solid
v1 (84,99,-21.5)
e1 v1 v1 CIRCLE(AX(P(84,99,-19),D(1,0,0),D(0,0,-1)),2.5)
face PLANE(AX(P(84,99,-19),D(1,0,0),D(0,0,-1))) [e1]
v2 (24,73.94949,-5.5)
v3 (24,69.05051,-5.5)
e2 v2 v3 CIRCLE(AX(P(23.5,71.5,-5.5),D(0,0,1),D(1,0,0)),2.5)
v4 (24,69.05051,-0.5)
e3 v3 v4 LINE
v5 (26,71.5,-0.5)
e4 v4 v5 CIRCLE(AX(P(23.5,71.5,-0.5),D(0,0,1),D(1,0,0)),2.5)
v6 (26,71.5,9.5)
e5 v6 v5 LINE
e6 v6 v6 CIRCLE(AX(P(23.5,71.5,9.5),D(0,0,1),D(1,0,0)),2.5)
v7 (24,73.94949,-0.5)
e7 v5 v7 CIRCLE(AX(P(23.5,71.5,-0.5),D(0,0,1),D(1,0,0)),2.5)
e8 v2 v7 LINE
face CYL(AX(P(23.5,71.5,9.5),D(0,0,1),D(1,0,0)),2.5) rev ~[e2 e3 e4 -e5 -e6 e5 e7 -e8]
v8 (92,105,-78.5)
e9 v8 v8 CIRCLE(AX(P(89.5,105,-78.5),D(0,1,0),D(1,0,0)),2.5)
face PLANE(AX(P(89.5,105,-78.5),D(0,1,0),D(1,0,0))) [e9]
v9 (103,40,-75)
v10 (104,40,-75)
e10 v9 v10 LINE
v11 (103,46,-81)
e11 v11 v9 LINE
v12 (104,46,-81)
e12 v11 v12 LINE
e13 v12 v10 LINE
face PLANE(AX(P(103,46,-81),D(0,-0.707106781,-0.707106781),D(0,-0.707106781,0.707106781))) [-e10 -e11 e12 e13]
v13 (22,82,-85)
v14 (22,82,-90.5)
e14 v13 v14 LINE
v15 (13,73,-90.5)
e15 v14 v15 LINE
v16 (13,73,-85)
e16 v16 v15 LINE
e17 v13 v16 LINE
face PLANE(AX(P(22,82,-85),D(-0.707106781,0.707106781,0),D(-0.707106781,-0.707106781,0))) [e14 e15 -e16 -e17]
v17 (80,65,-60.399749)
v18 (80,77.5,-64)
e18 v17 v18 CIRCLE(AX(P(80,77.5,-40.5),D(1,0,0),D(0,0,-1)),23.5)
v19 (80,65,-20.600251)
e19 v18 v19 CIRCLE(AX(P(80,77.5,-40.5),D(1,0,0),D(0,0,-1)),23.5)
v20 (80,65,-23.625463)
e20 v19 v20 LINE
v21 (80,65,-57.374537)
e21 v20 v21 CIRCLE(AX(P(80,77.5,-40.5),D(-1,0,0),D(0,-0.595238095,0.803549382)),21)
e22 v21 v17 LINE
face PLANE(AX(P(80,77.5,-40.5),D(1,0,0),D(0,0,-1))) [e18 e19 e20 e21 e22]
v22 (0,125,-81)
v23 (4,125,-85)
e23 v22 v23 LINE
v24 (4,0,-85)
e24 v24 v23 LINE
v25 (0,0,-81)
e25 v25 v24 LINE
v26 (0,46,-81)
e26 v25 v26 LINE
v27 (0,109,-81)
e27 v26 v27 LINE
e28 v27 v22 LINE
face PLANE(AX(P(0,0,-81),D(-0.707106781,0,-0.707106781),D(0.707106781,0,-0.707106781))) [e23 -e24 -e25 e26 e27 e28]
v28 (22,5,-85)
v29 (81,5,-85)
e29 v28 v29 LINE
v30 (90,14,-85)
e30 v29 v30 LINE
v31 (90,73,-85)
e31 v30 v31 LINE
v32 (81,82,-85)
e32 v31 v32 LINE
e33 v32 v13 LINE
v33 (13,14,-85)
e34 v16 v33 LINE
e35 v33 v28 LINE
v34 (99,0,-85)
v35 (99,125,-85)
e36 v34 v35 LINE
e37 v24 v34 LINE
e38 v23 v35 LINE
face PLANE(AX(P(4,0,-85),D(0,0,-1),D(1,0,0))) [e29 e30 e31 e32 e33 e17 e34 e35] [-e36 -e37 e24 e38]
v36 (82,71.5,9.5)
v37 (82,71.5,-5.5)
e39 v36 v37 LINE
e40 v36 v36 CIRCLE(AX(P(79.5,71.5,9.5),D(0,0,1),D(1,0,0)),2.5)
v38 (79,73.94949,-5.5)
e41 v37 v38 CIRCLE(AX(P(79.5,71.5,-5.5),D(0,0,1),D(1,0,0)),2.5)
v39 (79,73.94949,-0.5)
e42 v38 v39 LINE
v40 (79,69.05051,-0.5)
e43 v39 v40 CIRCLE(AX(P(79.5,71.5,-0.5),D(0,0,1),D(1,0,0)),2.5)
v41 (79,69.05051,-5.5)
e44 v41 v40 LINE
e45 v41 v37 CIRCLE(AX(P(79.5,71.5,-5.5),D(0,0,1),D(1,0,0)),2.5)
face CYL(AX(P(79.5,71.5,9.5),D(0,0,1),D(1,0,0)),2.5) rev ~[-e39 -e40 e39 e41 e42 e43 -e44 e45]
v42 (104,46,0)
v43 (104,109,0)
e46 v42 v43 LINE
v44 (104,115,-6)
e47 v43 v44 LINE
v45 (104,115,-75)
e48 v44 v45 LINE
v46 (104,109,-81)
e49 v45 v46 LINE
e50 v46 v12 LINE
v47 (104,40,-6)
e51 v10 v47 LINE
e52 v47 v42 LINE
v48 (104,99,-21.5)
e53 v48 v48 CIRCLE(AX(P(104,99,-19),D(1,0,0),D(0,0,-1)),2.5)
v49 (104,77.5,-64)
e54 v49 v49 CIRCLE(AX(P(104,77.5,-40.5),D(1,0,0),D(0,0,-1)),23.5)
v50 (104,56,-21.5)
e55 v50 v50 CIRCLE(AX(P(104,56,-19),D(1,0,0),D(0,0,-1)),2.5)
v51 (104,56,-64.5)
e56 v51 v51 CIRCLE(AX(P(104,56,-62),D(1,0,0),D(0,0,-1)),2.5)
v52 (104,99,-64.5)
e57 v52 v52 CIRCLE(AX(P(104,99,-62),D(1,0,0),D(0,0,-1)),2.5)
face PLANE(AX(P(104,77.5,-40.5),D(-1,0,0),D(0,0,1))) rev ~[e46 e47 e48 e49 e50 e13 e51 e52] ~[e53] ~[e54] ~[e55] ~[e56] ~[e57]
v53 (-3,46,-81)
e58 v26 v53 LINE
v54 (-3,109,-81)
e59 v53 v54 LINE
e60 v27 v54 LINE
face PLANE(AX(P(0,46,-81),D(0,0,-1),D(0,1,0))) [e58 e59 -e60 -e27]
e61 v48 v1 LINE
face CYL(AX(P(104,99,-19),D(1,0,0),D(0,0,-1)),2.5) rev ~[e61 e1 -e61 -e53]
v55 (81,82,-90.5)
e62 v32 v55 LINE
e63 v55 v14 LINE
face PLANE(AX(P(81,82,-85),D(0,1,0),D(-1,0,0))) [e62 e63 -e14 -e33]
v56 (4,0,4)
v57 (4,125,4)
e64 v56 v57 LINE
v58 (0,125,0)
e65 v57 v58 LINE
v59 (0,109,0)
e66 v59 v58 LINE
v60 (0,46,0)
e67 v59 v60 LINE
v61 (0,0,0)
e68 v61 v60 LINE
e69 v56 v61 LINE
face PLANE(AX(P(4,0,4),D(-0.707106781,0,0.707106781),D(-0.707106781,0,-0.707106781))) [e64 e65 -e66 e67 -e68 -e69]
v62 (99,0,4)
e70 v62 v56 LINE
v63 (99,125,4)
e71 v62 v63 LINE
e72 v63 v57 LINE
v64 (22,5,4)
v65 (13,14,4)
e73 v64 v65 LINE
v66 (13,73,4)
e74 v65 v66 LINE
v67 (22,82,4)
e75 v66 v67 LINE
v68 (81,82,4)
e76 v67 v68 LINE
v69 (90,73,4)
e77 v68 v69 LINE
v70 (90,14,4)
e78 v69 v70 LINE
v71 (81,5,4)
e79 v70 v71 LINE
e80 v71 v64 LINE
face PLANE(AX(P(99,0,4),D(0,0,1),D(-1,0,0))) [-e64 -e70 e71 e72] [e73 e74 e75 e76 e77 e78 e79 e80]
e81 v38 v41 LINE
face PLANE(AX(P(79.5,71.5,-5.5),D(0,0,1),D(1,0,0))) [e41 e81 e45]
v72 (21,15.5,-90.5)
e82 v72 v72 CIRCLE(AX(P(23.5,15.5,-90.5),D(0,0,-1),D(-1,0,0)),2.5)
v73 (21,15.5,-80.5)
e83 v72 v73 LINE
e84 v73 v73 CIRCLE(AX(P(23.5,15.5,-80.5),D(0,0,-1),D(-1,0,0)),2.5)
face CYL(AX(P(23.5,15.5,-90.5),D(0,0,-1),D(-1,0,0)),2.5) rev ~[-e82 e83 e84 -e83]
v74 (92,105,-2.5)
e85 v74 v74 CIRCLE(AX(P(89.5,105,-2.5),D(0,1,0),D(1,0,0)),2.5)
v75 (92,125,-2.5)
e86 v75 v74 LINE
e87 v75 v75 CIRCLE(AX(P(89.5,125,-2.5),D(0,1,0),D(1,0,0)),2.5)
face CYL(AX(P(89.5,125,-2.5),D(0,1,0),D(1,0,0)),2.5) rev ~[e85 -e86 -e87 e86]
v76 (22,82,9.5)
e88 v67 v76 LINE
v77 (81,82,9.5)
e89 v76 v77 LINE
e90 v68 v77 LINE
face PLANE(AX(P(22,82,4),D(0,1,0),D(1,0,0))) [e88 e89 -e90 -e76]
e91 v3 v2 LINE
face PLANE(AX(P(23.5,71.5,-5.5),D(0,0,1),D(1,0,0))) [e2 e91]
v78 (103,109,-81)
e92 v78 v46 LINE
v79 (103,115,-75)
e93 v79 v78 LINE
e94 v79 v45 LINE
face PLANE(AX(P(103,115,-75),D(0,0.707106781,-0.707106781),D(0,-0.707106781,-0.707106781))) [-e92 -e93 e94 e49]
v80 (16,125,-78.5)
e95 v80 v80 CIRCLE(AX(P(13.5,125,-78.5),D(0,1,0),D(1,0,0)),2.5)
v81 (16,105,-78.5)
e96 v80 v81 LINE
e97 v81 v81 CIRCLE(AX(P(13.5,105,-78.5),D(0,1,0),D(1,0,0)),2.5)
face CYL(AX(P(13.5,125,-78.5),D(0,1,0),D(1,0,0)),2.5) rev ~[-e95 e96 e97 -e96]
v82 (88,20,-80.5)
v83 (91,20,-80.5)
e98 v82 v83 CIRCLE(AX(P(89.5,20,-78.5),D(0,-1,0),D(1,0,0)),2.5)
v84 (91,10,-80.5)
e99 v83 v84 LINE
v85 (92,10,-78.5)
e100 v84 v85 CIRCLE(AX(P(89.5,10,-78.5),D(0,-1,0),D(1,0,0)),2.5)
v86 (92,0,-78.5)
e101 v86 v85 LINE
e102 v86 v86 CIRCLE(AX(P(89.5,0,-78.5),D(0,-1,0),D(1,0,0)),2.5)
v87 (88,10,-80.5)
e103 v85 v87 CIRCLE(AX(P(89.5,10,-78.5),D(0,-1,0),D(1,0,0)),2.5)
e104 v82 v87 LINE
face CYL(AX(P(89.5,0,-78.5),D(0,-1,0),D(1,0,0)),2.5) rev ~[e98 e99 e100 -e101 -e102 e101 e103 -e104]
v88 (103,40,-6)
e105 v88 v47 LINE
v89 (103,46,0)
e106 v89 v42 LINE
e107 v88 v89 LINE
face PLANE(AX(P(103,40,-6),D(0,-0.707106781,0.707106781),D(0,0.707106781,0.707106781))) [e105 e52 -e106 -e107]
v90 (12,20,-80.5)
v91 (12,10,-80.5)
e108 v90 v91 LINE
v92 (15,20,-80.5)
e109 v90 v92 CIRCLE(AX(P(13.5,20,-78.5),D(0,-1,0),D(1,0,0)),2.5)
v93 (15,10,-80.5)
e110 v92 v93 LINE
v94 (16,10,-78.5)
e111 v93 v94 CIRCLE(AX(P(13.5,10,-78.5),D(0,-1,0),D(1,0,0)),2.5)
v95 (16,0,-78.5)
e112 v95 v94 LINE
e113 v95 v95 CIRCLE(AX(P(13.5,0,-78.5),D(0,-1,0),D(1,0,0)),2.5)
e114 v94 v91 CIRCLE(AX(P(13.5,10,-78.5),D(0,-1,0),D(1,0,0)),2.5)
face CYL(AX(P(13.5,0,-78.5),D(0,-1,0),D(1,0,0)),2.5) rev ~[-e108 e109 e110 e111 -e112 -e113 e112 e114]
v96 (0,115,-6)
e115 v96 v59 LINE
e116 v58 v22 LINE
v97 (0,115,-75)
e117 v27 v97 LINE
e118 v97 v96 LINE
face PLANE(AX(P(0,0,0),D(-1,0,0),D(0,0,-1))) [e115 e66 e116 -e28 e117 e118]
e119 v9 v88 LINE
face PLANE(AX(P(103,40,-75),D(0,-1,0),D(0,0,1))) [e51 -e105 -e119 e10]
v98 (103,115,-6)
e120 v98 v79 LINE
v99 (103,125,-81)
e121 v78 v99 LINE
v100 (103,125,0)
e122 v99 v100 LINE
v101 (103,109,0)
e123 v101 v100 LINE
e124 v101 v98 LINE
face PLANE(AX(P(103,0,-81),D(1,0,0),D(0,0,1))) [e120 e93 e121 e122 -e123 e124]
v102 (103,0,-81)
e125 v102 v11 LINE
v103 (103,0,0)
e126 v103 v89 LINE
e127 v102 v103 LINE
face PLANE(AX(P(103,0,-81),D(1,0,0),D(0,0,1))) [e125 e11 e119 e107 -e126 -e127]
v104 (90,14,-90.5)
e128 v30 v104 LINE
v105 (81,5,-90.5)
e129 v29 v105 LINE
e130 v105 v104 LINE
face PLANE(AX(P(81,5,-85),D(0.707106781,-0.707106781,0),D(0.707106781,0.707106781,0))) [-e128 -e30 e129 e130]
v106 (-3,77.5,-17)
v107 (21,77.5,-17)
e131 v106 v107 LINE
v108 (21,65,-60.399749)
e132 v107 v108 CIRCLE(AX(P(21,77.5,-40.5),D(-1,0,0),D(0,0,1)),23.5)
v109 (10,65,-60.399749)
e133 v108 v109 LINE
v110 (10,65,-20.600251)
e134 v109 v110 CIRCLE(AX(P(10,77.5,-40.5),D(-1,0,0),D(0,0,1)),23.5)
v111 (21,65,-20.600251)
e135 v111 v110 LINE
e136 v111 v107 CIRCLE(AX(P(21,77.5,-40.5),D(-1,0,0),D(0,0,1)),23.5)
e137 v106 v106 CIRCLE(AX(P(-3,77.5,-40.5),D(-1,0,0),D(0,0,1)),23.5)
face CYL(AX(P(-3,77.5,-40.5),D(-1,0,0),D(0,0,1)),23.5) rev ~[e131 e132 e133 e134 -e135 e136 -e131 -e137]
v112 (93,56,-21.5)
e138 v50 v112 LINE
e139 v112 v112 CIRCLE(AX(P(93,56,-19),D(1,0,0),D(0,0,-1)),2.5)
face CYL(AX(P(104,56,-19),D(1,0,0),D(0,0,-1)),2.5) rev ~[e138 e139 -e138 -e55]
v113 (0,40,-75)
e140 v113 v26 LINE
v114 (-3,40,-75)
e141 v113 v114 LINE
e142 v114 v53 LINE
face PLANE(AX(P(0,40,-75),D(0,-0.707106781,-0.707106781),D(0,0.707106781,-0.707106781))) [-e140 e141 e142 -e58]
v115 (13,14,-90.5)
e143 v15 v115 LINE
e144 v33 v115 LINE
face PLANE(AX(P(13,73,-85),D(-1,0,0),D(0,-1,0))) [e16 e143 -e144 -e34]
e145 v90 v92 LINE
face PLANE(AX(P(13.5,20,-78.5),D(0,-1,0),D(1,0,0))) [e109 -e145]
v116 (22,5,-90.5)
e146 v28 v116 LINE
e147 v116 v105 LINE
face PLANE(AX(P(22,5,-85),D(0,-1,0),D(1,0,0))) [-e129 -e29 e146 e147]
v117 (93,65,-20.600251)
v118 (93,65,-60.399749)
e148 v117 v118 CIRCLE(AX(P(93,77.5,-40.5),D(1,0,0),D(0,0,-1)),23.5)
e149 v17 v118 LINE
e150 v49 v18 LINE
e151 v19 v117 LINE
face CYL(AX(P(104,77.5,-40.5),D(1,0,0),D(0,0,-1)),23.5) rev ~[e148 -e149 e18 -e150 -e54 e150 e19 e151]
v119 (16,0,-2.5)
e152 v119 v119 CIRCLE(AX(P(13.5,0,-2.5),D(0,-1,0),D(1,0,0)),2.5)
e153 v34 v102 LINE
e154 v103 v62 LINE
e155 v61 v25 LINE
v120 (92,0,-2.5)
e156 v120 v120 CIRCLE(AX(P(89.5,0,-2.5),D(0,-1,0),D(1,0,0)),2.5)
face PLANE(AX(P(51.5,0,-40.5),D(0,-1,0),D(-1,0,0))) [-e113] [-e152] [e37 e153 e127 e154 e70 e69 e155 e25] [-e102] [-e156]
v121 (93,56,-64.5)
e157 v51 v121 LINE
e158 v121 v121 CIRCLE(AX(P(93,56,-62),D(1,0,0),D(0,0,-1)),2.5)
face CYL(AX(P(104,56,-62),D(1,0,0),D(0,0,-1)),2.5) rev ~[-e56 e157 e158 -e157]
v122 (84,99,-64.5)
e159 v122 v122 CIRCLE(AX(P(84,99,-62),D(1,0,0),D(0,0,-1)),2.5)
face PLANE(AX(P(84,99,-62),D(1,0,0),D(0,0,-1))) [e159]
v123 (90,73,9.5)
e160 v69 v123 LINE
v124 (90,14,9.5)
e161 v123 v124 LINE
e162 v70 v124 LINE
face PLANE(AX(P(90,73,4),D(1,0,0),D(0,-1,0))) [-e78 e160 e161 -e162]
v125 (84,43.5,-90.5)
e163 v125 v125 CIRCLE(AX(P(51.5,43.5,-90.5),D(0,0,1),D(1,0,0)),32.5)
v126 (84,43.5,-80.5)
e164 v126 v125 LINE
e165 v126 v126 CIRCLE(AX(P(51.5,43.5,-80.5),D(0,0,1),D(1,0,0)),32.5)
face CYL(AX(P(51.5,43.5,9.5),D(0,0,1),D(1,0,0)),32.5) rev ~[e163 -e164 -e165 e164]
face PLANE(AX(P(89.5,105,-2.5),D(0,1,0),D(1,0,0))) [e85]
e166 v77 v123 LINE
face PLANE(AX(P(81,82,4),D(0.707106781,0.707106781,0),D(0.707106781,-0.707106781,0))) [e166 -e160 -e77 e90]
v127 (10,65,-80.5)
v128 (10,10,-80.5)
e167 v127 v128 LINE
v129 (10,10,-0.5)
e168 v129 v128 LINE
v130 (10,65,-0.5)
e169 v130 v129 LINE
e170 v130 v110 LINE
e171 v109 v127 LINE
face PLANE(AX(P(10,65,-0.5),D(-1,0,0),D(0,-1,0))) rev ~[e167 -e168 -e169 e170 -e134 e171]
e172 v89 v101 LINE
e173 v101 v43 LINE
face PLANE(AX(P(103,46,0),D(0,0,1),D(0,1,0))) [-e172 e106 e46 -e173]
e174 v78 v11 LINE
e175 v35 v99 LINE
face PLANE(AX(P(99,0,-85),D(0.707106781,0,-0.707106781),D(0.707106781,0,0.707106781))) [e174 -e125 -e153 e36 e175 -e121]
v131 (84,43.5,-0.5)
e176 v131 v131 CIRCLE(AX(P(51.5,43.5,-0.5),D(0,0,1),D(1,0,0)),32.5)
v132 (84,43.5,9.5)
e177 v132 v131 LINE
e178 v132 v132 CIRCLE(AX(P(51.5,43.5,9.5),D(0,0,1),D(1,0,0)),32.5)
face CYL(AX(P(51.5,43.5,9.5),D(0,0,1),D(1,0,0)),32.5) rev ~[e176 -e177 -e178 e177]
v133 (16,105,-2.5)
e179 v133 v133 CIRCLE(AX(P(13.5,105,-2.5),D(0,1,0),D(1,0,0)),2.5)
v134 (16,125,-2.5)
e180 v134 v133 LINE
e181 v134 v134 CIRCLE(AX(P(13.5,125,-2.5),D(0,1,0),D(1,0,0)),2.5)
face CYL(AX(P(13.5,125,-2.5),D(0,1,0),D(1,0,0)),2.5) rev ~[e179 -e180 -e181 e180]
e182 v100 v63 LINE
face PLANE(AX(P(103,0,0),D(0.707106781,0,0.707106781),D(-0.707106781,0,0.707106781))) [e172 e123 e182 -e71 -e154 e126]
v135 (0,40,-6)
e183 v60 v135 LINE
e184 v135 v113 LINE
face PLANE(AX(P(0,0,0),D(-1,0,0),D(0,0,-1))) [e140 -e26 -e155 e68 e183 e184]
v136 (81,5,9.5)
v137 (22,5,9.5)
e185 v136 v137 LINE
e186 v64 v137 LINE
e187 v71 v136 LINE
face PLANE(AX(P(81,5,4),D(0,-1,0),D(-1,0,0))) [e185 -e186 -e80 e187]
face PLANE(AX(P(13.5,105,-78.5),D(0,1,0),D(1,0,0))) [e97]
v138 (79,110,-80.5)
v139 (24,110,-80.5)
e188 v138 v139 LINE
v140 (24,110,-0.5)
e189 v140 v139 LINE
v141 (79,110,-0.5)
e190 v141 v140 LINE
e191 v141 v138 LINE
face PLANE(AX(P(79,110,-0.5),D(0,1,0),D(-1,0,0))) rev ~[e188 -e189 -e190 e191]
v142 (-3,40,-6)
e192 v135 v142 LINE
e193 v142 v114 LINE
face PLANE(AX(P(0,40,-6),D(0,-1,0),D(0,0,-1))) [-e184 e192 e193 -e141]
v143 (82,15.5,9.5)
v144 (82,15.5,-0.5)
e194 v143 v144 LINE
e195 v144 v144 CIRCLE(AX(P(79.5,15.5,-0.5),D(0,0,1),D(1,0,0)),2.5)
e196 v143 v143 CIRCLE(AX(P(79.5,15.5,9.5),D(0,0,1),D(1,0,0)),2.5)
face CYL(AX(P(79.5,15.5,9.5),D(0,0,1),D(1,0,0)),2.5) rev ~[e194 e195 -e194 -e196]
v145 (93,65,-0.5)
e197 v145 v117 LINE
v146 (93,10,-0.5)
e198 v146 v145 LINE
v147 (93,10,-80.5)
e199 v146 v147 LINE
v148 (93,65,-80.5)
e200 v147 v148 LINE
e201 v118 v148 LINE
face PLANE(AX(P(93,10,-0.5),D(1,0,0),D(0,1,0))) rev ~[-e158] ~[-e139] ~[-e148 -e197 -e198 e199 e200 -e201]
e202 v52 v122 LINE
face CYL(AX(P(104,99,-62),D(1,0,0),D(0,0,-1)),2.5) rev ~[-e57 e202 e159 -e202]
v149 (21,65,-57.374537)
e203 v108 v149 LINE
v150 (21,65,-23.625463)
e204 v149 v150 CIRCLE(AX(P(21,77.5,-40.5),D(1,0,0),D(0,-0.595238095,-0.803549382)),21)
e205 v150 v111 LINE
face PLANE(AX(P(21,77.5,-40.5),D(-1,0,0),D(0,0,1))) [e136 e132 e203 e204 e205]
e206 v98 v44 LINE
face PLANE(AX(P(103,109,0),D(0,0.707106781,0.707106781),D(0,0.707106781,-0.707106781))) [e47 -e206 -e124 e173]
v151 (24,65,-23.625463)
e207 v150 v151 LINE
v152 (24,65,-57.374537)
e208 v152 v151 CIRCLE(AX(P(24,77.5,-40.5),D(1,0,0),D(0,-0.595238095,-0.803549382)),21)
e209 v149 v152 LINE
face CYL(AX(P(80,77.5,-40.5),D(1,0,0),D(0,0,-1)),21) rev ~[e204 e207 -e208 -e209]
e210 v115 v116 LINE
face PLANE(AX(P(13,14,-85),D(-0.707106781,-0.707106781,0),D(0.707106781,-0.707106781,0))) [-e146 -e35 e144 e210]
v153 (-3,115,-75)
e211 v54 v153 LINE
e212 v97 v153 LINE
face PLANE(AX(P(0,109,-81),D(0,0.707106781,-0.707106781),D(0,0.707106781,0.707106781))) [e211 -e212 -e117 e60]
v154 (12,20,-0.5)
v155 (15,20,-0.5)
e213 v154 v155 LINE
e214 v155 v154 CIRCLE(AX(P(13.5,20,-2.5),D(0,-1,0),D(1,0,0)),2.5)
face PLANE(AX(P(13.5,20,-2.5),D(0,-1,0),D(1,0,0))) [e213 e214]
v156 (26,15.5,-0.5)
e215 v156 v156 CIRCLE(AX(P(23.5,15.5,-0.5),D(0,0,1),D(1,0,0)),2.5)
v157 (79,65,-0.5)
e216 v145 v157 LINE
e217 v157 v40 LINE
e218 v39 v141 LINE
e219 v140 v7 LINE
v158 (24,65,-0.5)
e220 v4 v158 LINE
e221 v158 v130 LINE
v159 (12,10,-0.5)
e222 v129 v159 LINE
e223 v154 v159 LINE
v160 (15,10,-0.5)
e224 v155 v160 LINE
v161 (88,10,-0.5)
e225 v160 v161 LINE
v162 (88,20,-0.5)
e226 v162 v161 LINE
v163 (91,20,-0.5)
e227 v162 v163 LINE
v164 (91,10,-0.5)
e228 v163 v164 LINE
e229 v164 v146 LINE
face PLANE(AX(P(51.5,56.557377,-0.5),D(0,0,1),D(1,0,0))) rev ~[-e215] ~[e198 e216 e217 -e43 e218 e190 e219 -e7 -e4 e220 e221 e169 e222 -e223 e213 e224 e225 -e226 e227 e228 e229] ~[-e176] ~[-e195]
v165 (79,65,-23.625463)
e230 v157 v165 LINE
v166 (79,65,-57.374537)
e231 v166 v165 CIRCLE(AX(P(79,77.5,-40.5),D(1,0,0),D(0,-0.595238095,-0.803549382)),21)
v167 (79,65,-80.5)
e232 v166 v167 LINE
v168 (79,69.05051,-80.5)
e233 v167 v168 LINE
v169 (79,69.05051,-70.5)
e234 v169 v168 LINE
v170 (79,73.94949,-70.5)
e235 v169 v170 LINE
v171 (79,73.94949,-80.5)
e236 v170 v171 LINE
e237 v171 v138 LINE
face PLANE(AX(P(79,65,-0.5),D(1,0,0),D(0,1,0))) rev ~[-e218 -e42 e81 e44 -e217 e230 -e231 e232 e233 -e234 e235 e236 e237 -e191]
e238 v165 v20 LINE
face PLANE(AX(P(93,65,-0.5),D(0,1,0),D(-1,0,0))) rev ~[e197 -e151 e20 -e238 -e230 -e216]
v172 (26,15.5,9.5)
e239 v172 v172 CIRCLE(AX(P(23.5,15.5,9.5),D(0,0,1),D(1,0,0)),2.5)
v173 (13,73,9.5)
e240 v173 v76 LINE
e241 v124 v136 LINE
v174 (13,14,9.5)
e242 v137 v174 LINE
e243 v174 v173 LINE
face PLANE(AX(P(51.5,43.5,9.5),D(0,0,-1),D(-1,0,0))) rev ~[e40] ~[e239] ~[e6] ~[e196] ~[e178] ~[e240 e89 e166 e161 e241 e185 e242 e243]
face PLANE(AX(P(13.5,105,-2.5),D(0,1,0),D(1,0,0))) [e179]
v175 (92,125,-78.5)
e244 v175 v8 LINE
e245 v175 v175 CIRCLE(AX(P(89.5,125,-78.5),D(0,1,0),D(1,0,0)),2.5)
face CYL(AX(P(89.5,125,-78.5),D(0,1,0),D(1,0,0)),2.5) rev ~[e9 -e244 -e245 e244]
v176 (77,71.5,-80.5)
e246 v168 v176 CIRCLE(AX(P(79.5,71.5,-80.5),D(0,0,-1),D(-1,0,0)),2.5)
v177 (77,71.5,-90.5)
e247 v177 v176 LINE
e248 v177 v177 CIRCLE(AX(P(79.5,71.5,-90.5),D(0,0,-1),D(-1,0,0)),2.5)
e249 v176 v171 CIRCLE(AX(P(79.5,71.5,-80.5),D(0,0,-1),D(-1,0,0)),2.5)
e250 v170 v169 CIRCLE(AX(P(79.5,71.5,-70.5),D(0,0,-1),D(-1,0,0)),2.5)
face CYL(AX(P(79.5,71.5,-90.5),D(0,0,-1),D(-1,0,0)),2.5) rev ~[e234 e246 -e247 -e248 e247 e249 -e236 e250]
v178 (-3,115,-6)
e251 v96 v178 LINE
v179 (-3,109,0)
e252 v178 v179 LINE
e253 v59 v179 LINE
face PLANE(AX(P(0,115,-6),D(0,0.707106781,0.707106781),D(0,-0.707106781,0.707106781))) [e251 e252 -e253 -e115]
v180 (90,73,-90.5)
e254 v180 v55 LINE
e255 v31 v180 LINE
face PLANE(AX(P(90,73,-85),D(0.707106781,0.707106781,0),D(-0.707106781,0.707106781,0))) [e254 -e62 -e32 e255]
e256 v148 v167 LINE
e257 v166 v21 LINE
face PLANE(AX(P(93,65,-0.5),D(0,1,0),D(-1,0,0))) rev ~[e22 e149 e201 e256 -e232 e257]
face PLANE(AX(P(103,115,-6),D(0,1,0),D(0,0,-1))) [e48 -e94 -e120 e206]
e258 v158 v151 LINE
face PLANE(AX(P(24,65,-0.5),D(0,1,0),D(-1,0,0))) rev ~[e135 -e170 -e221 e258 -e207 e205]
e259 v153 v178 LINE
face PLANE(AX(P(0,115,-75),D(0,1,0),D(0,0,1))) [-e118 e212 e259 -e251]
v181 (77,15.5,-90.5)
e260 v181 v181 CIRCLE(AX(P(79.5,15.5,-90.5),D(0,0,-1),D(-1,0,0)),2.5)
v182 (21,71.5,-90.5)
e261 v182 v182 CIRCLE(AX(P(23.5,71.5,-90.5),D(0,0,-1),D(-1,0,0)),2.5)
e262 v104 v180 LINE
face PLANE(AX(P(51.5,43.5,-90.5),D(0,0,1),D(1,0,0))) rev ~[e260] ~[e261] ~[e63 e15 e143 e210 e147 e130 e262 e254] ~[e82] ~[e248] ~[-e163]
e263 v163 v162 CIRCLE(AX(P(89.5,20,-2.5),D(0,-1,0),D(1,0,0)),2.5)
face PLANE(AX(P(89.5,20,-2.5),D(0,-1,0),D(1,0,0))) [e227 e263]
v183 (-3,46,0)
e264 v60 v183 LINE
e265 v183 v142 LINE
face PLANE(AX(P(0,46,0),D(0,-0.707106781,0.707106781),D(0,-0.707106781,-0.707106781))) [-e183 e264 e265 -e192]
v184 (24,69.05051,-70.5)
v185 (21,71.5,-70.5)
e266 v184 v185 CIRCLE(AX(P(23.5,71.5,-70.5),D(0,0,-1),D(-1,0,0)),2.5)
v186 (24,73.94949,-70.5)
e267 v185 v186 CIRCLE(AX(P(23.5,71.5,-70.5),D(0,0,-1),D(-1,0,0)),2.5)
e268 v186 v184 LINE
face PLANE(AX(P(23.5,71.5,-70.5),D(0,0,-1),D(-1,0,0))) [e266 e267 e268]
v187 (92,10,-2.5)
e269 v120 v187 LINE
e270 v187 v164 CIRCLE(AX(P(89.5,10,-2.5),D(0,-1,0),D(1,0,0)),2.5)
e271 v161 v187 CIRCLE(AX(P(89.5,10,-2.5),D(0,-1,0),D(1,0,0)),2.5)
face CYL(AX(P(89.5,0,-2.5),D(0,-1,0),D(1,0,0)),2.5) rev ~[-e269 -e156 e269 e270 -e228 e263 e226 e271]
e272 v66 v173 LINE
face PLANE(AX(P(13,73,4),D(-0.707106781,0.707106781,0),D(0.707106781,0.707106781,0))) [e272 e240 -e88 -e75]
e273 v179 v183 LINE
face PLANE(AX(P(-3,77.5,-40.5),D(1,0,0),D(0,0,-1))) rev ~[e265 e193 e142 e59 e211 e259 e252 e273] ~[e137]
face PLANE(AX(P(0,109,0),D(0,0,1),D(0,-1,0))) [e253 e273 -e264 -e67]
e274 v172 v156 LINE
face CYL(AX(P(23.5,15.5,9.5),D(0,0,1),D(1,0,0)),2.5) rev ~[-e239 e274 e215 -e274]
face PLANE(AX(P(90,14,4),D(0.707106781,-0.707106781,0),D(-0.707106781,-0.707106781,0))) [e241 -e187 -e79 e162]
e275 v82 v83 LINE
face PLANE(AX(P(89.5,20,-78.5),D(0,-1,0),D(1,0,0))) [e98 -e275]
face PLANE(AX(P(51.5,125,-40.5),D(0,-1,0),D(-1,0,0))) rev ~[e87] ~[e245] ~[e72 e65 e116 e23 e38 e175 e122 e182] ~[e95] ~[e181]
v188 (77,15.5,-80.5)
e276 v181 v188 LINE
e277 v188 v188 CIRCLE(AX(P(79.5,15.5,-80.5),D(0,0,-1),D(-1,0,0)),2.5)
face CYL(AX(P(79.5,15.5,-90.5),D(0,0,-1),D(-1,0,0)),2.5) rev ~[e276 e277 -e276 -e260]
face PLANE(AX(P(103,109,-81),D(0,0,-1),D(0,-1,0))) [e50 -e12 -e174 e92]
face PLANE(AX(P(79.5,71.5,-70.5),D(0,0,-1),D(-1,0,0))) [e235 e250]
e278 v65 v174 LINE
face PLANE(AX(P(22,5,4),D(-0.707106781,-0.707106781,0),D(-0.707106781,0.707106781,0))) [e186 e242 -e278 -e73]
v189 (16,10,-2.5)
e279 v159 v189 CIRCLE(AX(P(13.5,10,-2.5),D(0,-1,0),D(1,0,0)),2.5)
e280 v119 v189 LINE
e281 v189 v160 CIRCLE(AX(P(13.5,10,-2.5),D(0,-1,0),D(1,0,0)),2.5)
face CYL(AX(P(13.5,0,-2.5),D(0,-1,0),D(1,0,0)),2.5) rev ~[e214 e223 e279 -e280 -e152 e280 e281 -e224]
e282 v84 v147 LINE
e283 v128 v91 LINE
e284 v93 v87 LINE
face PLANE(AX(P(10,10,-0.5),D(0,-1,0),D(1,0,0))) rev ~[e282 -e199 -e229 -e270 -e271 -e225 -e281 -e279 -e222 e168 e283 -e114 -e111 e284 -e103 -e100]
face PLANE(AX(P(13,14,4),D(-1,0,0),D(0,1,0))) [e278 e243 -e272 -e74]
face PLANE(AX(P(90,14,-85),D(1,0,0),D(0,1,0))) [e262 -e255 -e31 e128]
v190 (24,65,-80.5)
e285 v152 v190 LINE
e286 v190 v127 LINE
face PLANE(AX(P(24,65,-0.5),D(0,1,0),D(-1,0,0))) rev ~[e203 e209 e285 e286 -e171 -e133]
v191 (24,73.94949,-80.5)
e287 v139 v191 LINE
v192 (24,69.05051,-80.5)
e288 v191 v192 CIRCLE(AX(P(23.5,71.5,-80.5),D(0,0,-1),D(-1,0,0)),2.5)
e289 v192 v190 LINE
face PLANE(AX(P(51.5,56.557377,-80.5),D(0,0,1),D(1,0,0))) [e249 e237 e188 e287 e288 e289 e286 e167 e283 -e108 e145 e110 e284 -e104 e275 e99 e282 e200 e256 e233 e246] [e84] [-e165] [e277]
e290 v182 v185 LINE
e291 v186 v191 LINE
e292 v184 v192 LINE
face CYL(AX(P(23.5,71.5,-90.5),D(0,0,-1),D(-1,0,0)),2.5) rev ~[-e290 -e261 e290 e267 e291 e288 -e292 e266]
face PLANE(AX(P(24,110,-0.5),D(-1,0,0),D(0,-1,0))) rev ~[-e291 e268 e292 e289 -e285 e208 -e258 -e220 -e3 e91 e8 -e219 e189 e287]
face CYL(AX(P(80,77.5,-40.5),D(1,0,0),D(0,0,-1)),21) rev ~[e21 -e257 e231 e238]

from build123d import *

# Parameters (mm, degrees)
EXTRUDE1_DEPTH             = 125
EXTRUDE2_DEPTH             = 5.5
EXTRUDE3_DEPTH             = 5.5
SKETCH4_R                  = 32.5
EXTRUDE5_DEPTH             = 101
EXTRUDE7_DEPTH             = 80
SKETCH7_R                  = 2.5
EXTRUDE9_DEPTH             = 15
LPATTERN1_COUNT            = 2
LPATTERN1_PITCH            = 56
LPATTERN2_COUNT            = 2
LPATTERN2_PITCH            = 56
LPATTERN2_COPY_1_SKETCH_R  = 2.5
LPATTERN2_COPY_1_DEPTH     = 15
EXTRUDE10_DEPTH            = 1
EXTRUDE11_DEPTH            = 3
SKETCH10_R                 = 23.5
EXTRUDE12_DEPTH            = 24
SKETCH11_R                 = 21
EXTRUDE13_DEPTH            = 84
SKETCH12_R                 = 23.5
EXTRUDE14_DEPTH            = 24
SKETCH13_R                 = 2.5
EXTRUDE15_DEPTH            = 20
LPATTERN3_COUNT            = 2
LPATTERN3_PITCH            = 43
LPATTERN4_COUNT            = 2
LPATTERN4_PITCH            = 43
LPATTERN4_COPY_1_SKETCH_R  = 2.5
LPATTERN4_COPY_1_DEPTH     = 20
SKETCH14_R                 = 2.5
EXTRUDE16_DEPTH            = 20
LPATTERN5_COUNT            = 2
LPATTERN5_PITCH            = 76
LPATTERN6_COUNT            = 2
LPATTERN6_PITCH            = 76
LPATTERN6_COPY_1_SKETCH_R  = 2.5
LPATTERN6_COPY_1_DEPTH     = 20
SKETCH15_R                 = 2.5
EXTRUDE17_DEPTH            = 20
LPATTERN7_COUNT            = 2
LPATTERN7_PITCH            = 76
LPATTERN8_COUNT            = 2
LPATTERN8_PITCH            = 76
LPATTERN8_COPY_1_SKETCH_R  = 2.5
LPATTERN8_COPY_1_DEPTH     = 20
SKETCH18_R                 = 2.5
EXTRUDE20_DEPTH            = 20
LPATTERN9_COUNT            = 2
LPATTERN9_PITCH            = 56
LPATTERN10_COUNT           = 2
LPATTERN10_PITCH           = 56
LPATTERN10_COPY_1_SKETCH_R = 2.5
LPATTERN10_COPY_1_DEPTH    = 20


with BuildPart() as part:
    # Sketch1 → Extrude1 (new body)
    with BuildSketch(Plane(origin=(0, 0, 0), x_dir=(1, 0, 0), z_dir=(0, 1, 0))):
        Polygon((0, 0), (0, 81), (4, 85), (99, 85), (103, 81), (103, 0), (99, -4), (4, -4), align=None)
    extrude(amount=EXTRUDE1_DEPTH)

    # Sketch2 → Extrude2 (add)
    with BuildSketch(Plane.XY.offset(4)):
        Polygon((22, 82), (81, 82), (90, 73), (90, 14), (81, 5), (22, 5), (13, 14), (13, 73), align=None)
    extrude(amount=EXTRUDE2_DEPTH)

    # Sketch3 → Extrude3 (add)
    with BuildSketch(Plane(origin=(0, 0, -85), x_dir=(-1, 0, 0), z_dir=(0, 0, -1))):
        Polygon((-81, 82), (-22, 82), (-13, 73), (-13, 14), (-22, 5), (-81, 5), (-90, 14), (-90, 73), align=None)
    extrude(amount=EXTRUDE3_DEPTH)

    # Sketch4 → Extrude5 (cut, through all)
    with BuildSketch(Plane.XY.offset(9.5)):
        with Locations((51.5, 43.5)):
            Circle(SKETCH4_R)
    extrude(amount=-EXTRUDE5_DEPTH, mode=Mode.SUBTRACT)

    # Sketch5 → Extrude7 (cut)
    with BuildSketch(Plane.XY.offset(-0.5)):
        Polygon((10, 10), (93, 10), (93, 65), (79, 65), (79, 110), (24, 110), (24, 65), (10, 65), align=None)
    extrude(amount=-EXTRUDE7_DEPTH, mode=Mode.SUBTRACT)

    # Sketch7 → Extrude9 (cut)
    with BuildSketch(Plane.XY.offset(9.5)):
        with Locations((23.5, 71.5)):
            Circle(SKETCH7_R)
    extrude9 = extrude(amount=-EXTRUDE9_DEPTH, mode=Mode.SUBTRACT)

    # LPattern1: Extrude9 ×2
    with Locations(*[(i * LPATTERN1_PITCH, 0, 0) for i in range(1, LPATTERN1_COUNT)]):
        add(extrude9, mode=Mode.SUBTRACT)

    # LPattern2: Extrude9 ×2
    with Locations(*[(0, -i * LPATTERN2_PITCH, 0) for i in range(1, LPATTERN2_COUNT)]):
        add(extrude9, mode=Mode.SUBTRACT)

    # LPattern2 copy 1 sketch → LPattern2 copy 1 (cut)
    with BuildSketch(Plane(origin=(56, -56, 9.5), x_dir=(1, 0, 0), z_dir=(0, 0, 1))):
        with Locations((23.5, 71.5)):
            Circle(LPATTERN2_COPY_1_SKETCH_R)
    extrude(amount=-LPATTERN2_COPY_1_DEPTH, mode=Mode.SUBTRACT)

    # Sketch8 → Extrude10 (add)
    with BuildSketch(Plane(origin=(103, 0, 0), x_dir=(0, 0, -1), z_dir=(1, 0, 0))):
        Polygon((6, 115), (75, 115), (81, 109), (81, 46), (75, 40), (6, 40), (0, 46), (0, 109), align=None)
    extrude(amount=EXTRUDE10_DEPTH)

    # Sketch9 → Extrude11 (add)
    with BuildSketch(Plane.ZY):
        Polygon((-75, 115), (-6, 115), (0, 109), (0, 46), (-6, 40), (-75, 40), (-81, 46), (-81, 109), align=None)
    extrude(amount=EXTRUDE11_DEPTH)

    # Sketch10 → Extrude12 (cut)
    with BuildSketch(Plane(origin=(104, 0, 0), x_dir=(0, 0, -1), z_dir=(1, 0, 0))):
        with Locations((40.5, 77.5)):
            Circle(SKETCH10_R)
    extrude(amount=-EXTRUDE12_DEPTH, mode=Mode.SUBTRACT)

    # Sketch11 → Extrude13 (cut, through all)
    with BuildSketch(Plane(origin=(80, 0, 0), x_dir=(0, 0, -1), z_dir=(1, 0, 0))):
        with Locations((40.5, 77.5)):
            Circle(SKETCH11_R)
    extrude(amount=-EXTRUDE13_DEPTH, mode=Mode.SUBTRACT)

    # Sketch12 → Extrude14 (cut)
    with BuildSketch(Plane.ZY.offset(3)):
        with Locations((-40.5, 77.5)):
            Circle(SKETCH12_R)
    extrude(amount=-EXTRUDE14_DEPTH, mode=Mode.SUBTRACT)

    # Sketch13 → Extrude15 (cut)
    with BuildSketch(Plane(origin=(104, 0, 0), x_dir=(0, 0, -1), z_dir=(1, 0, 0))):
        with Locations((19, 99)):
            Circle(SKETCH13_R)
    extrude15 = extrude(amount=-EXTRUDE15_DEPTH, mode=Mode.SUBTRACT)

    # LPattern3: Extrude15 ×2
    with Locations(*[(0, 0, -i * LPATTERN3_PITCH) for i in range(1, LPATTERN3_COUNT)]):
        add(extrude15, mode=Mode.SUBTRACT)

    # LPattern4: Extrude15 ×2
    with Locations(*[(0, -i * LPATTERN4_PITCH, 0) for i in range(1, LPATTERN4_COUNT)]):
        add(extrude15, mode=Mode.SUBTRACT)

    # LPattern4 copy 1 sketch → LPattern4 copy 1 (cut)
    with BuildSketch(Plane(origin=(104, -43, -43), x_dir=(0, 0, -1), z_dir=(1, 0, 0))):
        with Locations((19, 99)):
            Circle(LPATTERN4_COPY_1_SKETCH_R)
    extrude(amount=-LPATTERN4_COPY_1_DEPTH, mode=Mode.SUBTRACT)

    # Sketch14 → Extrude16 (cut)
    with BuildSketch(Plane(origin=(0, 125, 0), x_dir=(1, 0, 0), z_dir=(0, 1, 0))):
        with Locations((13.5, 78.5)):
            Circle(SKETCH14_R)
    extrude16 = extrude(amount=-EXTRUDE16_DEPTH, mode=Mode.SUBTRACT)

    # LPattern5: Extrude16 ×2
    with Locations(*[(i * LPATTERN5_PITCH, 0, 0) for i in range(1, LPATTERN5_COUNT)]):
        add(extrude16, mode=Mode.SUBTRACT)

    # LPattern6: Extrude16 ×2
    with Locations(*[(0, 0, i * LPATTERN6_PITCH) for i in range(1, LPATTERN6_COUNT)]):
        add(extrude16, mode=Mode.SUBTRACT)

    # LPattern6 copy 1 sketch → LPattern6 copy 1 (cut)
    with BuildSketch(Plane(origin=(76, 125, 76), x_dir=(1, 0, 0), z_dir=(0, 1, 0))):
        with Locations((13.5, 78.5)):
            Circle(LPATTERN6_COPY_1_SKETCH_R)
    extrude(amount=-LPATTERN6_COPY_1_DEPTH, mode=Mode.SUBTRACT)

    # Sketch15 → Extrude17 (cut)
    with BuildSketch(Plane.XZ):
        with Locations((13.5, -2.5)):
            Circle(SKETCH15_R)
    extrude17 = extrude(amount=-EXTRUDE17_DEPTH, mode=Mode.SUBTRACT)

    # LPattern7: Extrude17 ×2
    with Locations(*[(i * LPATTERN7_PITCH, 0, 0) for i in range(1, LPATTERN7_COUNT)]):
        add(extrude17, mode=Mode.SUBTRACT)

    # LPattern8: Extrude17 ×2
    with Locations(*[(0, 0, -i * LPATTERN8_PITCH) for i in range(1, LPATTERN8_COUNT)]):
        add(extrude17, mode=Mode.SUBTRACT)

    # LPattern8 copy 1 sketch → LPattern8 copy 1 (cut)
    with BuildSketch(Plane(origin=(76, 0, -76), x_dir=(1, 0, 0), z_dir=(0, -1, 0))):
        with Locations((13.5, -2.5)):
            Circle(LPATTERN8_COPY_1_SKETCH_R)
    extrude(amount=-LPATTERN8_COPY_1_DEPTH, mode=Mode.SUBTRACT)

    # Sketch18 → Extrude20 (cut)
    with BuildSketch(Plane(origin=(0, 0, -90.5), x_dir=(-1, 0, 0), z_dir=(0, 0, -1))):
        with Locations((-79.5, 71.5)):
            Circle(SKETCH18_R)
    extrude20 = extrude(amount=-EXTRUDE20_DEPTH, mode=Mode.SUBTRACT)

    # LPattern9: Extrude20 ×2
    with Locations(*[(-i * LPATTERN9_PITCH, 0, 0) for i in range(1, LPATTERN9_COUNT)]):
        add(extrude20, mode=Mode.SUBTRACT)

    # LPattern10: Extrude20 ×2
    with Locations(*[(0, -i * LPATTERN10_PITCH, 0) for i in range(1, LPATTERN10_COUNT)]):
        add(extrude20, mode=Mode.SUBTRACT)

    # LPattern10 copy 1 sketch → LPattern10 copy 1 (cut)
    with BuildSketch(Plane(origin=(-56, -56, -90.5), x_dir=(-1, 0, 0), z_dir=(0, 0, -1))):
        with Locations((-79.5, 71.5)):
            Circle(LPATTERN10_COPY_1_SKETCH_R)
    extrude(amount=-LPATTERN10_COPY_1_DEPTH, mode=Mode.SUBTRACT)


solid = part.part
